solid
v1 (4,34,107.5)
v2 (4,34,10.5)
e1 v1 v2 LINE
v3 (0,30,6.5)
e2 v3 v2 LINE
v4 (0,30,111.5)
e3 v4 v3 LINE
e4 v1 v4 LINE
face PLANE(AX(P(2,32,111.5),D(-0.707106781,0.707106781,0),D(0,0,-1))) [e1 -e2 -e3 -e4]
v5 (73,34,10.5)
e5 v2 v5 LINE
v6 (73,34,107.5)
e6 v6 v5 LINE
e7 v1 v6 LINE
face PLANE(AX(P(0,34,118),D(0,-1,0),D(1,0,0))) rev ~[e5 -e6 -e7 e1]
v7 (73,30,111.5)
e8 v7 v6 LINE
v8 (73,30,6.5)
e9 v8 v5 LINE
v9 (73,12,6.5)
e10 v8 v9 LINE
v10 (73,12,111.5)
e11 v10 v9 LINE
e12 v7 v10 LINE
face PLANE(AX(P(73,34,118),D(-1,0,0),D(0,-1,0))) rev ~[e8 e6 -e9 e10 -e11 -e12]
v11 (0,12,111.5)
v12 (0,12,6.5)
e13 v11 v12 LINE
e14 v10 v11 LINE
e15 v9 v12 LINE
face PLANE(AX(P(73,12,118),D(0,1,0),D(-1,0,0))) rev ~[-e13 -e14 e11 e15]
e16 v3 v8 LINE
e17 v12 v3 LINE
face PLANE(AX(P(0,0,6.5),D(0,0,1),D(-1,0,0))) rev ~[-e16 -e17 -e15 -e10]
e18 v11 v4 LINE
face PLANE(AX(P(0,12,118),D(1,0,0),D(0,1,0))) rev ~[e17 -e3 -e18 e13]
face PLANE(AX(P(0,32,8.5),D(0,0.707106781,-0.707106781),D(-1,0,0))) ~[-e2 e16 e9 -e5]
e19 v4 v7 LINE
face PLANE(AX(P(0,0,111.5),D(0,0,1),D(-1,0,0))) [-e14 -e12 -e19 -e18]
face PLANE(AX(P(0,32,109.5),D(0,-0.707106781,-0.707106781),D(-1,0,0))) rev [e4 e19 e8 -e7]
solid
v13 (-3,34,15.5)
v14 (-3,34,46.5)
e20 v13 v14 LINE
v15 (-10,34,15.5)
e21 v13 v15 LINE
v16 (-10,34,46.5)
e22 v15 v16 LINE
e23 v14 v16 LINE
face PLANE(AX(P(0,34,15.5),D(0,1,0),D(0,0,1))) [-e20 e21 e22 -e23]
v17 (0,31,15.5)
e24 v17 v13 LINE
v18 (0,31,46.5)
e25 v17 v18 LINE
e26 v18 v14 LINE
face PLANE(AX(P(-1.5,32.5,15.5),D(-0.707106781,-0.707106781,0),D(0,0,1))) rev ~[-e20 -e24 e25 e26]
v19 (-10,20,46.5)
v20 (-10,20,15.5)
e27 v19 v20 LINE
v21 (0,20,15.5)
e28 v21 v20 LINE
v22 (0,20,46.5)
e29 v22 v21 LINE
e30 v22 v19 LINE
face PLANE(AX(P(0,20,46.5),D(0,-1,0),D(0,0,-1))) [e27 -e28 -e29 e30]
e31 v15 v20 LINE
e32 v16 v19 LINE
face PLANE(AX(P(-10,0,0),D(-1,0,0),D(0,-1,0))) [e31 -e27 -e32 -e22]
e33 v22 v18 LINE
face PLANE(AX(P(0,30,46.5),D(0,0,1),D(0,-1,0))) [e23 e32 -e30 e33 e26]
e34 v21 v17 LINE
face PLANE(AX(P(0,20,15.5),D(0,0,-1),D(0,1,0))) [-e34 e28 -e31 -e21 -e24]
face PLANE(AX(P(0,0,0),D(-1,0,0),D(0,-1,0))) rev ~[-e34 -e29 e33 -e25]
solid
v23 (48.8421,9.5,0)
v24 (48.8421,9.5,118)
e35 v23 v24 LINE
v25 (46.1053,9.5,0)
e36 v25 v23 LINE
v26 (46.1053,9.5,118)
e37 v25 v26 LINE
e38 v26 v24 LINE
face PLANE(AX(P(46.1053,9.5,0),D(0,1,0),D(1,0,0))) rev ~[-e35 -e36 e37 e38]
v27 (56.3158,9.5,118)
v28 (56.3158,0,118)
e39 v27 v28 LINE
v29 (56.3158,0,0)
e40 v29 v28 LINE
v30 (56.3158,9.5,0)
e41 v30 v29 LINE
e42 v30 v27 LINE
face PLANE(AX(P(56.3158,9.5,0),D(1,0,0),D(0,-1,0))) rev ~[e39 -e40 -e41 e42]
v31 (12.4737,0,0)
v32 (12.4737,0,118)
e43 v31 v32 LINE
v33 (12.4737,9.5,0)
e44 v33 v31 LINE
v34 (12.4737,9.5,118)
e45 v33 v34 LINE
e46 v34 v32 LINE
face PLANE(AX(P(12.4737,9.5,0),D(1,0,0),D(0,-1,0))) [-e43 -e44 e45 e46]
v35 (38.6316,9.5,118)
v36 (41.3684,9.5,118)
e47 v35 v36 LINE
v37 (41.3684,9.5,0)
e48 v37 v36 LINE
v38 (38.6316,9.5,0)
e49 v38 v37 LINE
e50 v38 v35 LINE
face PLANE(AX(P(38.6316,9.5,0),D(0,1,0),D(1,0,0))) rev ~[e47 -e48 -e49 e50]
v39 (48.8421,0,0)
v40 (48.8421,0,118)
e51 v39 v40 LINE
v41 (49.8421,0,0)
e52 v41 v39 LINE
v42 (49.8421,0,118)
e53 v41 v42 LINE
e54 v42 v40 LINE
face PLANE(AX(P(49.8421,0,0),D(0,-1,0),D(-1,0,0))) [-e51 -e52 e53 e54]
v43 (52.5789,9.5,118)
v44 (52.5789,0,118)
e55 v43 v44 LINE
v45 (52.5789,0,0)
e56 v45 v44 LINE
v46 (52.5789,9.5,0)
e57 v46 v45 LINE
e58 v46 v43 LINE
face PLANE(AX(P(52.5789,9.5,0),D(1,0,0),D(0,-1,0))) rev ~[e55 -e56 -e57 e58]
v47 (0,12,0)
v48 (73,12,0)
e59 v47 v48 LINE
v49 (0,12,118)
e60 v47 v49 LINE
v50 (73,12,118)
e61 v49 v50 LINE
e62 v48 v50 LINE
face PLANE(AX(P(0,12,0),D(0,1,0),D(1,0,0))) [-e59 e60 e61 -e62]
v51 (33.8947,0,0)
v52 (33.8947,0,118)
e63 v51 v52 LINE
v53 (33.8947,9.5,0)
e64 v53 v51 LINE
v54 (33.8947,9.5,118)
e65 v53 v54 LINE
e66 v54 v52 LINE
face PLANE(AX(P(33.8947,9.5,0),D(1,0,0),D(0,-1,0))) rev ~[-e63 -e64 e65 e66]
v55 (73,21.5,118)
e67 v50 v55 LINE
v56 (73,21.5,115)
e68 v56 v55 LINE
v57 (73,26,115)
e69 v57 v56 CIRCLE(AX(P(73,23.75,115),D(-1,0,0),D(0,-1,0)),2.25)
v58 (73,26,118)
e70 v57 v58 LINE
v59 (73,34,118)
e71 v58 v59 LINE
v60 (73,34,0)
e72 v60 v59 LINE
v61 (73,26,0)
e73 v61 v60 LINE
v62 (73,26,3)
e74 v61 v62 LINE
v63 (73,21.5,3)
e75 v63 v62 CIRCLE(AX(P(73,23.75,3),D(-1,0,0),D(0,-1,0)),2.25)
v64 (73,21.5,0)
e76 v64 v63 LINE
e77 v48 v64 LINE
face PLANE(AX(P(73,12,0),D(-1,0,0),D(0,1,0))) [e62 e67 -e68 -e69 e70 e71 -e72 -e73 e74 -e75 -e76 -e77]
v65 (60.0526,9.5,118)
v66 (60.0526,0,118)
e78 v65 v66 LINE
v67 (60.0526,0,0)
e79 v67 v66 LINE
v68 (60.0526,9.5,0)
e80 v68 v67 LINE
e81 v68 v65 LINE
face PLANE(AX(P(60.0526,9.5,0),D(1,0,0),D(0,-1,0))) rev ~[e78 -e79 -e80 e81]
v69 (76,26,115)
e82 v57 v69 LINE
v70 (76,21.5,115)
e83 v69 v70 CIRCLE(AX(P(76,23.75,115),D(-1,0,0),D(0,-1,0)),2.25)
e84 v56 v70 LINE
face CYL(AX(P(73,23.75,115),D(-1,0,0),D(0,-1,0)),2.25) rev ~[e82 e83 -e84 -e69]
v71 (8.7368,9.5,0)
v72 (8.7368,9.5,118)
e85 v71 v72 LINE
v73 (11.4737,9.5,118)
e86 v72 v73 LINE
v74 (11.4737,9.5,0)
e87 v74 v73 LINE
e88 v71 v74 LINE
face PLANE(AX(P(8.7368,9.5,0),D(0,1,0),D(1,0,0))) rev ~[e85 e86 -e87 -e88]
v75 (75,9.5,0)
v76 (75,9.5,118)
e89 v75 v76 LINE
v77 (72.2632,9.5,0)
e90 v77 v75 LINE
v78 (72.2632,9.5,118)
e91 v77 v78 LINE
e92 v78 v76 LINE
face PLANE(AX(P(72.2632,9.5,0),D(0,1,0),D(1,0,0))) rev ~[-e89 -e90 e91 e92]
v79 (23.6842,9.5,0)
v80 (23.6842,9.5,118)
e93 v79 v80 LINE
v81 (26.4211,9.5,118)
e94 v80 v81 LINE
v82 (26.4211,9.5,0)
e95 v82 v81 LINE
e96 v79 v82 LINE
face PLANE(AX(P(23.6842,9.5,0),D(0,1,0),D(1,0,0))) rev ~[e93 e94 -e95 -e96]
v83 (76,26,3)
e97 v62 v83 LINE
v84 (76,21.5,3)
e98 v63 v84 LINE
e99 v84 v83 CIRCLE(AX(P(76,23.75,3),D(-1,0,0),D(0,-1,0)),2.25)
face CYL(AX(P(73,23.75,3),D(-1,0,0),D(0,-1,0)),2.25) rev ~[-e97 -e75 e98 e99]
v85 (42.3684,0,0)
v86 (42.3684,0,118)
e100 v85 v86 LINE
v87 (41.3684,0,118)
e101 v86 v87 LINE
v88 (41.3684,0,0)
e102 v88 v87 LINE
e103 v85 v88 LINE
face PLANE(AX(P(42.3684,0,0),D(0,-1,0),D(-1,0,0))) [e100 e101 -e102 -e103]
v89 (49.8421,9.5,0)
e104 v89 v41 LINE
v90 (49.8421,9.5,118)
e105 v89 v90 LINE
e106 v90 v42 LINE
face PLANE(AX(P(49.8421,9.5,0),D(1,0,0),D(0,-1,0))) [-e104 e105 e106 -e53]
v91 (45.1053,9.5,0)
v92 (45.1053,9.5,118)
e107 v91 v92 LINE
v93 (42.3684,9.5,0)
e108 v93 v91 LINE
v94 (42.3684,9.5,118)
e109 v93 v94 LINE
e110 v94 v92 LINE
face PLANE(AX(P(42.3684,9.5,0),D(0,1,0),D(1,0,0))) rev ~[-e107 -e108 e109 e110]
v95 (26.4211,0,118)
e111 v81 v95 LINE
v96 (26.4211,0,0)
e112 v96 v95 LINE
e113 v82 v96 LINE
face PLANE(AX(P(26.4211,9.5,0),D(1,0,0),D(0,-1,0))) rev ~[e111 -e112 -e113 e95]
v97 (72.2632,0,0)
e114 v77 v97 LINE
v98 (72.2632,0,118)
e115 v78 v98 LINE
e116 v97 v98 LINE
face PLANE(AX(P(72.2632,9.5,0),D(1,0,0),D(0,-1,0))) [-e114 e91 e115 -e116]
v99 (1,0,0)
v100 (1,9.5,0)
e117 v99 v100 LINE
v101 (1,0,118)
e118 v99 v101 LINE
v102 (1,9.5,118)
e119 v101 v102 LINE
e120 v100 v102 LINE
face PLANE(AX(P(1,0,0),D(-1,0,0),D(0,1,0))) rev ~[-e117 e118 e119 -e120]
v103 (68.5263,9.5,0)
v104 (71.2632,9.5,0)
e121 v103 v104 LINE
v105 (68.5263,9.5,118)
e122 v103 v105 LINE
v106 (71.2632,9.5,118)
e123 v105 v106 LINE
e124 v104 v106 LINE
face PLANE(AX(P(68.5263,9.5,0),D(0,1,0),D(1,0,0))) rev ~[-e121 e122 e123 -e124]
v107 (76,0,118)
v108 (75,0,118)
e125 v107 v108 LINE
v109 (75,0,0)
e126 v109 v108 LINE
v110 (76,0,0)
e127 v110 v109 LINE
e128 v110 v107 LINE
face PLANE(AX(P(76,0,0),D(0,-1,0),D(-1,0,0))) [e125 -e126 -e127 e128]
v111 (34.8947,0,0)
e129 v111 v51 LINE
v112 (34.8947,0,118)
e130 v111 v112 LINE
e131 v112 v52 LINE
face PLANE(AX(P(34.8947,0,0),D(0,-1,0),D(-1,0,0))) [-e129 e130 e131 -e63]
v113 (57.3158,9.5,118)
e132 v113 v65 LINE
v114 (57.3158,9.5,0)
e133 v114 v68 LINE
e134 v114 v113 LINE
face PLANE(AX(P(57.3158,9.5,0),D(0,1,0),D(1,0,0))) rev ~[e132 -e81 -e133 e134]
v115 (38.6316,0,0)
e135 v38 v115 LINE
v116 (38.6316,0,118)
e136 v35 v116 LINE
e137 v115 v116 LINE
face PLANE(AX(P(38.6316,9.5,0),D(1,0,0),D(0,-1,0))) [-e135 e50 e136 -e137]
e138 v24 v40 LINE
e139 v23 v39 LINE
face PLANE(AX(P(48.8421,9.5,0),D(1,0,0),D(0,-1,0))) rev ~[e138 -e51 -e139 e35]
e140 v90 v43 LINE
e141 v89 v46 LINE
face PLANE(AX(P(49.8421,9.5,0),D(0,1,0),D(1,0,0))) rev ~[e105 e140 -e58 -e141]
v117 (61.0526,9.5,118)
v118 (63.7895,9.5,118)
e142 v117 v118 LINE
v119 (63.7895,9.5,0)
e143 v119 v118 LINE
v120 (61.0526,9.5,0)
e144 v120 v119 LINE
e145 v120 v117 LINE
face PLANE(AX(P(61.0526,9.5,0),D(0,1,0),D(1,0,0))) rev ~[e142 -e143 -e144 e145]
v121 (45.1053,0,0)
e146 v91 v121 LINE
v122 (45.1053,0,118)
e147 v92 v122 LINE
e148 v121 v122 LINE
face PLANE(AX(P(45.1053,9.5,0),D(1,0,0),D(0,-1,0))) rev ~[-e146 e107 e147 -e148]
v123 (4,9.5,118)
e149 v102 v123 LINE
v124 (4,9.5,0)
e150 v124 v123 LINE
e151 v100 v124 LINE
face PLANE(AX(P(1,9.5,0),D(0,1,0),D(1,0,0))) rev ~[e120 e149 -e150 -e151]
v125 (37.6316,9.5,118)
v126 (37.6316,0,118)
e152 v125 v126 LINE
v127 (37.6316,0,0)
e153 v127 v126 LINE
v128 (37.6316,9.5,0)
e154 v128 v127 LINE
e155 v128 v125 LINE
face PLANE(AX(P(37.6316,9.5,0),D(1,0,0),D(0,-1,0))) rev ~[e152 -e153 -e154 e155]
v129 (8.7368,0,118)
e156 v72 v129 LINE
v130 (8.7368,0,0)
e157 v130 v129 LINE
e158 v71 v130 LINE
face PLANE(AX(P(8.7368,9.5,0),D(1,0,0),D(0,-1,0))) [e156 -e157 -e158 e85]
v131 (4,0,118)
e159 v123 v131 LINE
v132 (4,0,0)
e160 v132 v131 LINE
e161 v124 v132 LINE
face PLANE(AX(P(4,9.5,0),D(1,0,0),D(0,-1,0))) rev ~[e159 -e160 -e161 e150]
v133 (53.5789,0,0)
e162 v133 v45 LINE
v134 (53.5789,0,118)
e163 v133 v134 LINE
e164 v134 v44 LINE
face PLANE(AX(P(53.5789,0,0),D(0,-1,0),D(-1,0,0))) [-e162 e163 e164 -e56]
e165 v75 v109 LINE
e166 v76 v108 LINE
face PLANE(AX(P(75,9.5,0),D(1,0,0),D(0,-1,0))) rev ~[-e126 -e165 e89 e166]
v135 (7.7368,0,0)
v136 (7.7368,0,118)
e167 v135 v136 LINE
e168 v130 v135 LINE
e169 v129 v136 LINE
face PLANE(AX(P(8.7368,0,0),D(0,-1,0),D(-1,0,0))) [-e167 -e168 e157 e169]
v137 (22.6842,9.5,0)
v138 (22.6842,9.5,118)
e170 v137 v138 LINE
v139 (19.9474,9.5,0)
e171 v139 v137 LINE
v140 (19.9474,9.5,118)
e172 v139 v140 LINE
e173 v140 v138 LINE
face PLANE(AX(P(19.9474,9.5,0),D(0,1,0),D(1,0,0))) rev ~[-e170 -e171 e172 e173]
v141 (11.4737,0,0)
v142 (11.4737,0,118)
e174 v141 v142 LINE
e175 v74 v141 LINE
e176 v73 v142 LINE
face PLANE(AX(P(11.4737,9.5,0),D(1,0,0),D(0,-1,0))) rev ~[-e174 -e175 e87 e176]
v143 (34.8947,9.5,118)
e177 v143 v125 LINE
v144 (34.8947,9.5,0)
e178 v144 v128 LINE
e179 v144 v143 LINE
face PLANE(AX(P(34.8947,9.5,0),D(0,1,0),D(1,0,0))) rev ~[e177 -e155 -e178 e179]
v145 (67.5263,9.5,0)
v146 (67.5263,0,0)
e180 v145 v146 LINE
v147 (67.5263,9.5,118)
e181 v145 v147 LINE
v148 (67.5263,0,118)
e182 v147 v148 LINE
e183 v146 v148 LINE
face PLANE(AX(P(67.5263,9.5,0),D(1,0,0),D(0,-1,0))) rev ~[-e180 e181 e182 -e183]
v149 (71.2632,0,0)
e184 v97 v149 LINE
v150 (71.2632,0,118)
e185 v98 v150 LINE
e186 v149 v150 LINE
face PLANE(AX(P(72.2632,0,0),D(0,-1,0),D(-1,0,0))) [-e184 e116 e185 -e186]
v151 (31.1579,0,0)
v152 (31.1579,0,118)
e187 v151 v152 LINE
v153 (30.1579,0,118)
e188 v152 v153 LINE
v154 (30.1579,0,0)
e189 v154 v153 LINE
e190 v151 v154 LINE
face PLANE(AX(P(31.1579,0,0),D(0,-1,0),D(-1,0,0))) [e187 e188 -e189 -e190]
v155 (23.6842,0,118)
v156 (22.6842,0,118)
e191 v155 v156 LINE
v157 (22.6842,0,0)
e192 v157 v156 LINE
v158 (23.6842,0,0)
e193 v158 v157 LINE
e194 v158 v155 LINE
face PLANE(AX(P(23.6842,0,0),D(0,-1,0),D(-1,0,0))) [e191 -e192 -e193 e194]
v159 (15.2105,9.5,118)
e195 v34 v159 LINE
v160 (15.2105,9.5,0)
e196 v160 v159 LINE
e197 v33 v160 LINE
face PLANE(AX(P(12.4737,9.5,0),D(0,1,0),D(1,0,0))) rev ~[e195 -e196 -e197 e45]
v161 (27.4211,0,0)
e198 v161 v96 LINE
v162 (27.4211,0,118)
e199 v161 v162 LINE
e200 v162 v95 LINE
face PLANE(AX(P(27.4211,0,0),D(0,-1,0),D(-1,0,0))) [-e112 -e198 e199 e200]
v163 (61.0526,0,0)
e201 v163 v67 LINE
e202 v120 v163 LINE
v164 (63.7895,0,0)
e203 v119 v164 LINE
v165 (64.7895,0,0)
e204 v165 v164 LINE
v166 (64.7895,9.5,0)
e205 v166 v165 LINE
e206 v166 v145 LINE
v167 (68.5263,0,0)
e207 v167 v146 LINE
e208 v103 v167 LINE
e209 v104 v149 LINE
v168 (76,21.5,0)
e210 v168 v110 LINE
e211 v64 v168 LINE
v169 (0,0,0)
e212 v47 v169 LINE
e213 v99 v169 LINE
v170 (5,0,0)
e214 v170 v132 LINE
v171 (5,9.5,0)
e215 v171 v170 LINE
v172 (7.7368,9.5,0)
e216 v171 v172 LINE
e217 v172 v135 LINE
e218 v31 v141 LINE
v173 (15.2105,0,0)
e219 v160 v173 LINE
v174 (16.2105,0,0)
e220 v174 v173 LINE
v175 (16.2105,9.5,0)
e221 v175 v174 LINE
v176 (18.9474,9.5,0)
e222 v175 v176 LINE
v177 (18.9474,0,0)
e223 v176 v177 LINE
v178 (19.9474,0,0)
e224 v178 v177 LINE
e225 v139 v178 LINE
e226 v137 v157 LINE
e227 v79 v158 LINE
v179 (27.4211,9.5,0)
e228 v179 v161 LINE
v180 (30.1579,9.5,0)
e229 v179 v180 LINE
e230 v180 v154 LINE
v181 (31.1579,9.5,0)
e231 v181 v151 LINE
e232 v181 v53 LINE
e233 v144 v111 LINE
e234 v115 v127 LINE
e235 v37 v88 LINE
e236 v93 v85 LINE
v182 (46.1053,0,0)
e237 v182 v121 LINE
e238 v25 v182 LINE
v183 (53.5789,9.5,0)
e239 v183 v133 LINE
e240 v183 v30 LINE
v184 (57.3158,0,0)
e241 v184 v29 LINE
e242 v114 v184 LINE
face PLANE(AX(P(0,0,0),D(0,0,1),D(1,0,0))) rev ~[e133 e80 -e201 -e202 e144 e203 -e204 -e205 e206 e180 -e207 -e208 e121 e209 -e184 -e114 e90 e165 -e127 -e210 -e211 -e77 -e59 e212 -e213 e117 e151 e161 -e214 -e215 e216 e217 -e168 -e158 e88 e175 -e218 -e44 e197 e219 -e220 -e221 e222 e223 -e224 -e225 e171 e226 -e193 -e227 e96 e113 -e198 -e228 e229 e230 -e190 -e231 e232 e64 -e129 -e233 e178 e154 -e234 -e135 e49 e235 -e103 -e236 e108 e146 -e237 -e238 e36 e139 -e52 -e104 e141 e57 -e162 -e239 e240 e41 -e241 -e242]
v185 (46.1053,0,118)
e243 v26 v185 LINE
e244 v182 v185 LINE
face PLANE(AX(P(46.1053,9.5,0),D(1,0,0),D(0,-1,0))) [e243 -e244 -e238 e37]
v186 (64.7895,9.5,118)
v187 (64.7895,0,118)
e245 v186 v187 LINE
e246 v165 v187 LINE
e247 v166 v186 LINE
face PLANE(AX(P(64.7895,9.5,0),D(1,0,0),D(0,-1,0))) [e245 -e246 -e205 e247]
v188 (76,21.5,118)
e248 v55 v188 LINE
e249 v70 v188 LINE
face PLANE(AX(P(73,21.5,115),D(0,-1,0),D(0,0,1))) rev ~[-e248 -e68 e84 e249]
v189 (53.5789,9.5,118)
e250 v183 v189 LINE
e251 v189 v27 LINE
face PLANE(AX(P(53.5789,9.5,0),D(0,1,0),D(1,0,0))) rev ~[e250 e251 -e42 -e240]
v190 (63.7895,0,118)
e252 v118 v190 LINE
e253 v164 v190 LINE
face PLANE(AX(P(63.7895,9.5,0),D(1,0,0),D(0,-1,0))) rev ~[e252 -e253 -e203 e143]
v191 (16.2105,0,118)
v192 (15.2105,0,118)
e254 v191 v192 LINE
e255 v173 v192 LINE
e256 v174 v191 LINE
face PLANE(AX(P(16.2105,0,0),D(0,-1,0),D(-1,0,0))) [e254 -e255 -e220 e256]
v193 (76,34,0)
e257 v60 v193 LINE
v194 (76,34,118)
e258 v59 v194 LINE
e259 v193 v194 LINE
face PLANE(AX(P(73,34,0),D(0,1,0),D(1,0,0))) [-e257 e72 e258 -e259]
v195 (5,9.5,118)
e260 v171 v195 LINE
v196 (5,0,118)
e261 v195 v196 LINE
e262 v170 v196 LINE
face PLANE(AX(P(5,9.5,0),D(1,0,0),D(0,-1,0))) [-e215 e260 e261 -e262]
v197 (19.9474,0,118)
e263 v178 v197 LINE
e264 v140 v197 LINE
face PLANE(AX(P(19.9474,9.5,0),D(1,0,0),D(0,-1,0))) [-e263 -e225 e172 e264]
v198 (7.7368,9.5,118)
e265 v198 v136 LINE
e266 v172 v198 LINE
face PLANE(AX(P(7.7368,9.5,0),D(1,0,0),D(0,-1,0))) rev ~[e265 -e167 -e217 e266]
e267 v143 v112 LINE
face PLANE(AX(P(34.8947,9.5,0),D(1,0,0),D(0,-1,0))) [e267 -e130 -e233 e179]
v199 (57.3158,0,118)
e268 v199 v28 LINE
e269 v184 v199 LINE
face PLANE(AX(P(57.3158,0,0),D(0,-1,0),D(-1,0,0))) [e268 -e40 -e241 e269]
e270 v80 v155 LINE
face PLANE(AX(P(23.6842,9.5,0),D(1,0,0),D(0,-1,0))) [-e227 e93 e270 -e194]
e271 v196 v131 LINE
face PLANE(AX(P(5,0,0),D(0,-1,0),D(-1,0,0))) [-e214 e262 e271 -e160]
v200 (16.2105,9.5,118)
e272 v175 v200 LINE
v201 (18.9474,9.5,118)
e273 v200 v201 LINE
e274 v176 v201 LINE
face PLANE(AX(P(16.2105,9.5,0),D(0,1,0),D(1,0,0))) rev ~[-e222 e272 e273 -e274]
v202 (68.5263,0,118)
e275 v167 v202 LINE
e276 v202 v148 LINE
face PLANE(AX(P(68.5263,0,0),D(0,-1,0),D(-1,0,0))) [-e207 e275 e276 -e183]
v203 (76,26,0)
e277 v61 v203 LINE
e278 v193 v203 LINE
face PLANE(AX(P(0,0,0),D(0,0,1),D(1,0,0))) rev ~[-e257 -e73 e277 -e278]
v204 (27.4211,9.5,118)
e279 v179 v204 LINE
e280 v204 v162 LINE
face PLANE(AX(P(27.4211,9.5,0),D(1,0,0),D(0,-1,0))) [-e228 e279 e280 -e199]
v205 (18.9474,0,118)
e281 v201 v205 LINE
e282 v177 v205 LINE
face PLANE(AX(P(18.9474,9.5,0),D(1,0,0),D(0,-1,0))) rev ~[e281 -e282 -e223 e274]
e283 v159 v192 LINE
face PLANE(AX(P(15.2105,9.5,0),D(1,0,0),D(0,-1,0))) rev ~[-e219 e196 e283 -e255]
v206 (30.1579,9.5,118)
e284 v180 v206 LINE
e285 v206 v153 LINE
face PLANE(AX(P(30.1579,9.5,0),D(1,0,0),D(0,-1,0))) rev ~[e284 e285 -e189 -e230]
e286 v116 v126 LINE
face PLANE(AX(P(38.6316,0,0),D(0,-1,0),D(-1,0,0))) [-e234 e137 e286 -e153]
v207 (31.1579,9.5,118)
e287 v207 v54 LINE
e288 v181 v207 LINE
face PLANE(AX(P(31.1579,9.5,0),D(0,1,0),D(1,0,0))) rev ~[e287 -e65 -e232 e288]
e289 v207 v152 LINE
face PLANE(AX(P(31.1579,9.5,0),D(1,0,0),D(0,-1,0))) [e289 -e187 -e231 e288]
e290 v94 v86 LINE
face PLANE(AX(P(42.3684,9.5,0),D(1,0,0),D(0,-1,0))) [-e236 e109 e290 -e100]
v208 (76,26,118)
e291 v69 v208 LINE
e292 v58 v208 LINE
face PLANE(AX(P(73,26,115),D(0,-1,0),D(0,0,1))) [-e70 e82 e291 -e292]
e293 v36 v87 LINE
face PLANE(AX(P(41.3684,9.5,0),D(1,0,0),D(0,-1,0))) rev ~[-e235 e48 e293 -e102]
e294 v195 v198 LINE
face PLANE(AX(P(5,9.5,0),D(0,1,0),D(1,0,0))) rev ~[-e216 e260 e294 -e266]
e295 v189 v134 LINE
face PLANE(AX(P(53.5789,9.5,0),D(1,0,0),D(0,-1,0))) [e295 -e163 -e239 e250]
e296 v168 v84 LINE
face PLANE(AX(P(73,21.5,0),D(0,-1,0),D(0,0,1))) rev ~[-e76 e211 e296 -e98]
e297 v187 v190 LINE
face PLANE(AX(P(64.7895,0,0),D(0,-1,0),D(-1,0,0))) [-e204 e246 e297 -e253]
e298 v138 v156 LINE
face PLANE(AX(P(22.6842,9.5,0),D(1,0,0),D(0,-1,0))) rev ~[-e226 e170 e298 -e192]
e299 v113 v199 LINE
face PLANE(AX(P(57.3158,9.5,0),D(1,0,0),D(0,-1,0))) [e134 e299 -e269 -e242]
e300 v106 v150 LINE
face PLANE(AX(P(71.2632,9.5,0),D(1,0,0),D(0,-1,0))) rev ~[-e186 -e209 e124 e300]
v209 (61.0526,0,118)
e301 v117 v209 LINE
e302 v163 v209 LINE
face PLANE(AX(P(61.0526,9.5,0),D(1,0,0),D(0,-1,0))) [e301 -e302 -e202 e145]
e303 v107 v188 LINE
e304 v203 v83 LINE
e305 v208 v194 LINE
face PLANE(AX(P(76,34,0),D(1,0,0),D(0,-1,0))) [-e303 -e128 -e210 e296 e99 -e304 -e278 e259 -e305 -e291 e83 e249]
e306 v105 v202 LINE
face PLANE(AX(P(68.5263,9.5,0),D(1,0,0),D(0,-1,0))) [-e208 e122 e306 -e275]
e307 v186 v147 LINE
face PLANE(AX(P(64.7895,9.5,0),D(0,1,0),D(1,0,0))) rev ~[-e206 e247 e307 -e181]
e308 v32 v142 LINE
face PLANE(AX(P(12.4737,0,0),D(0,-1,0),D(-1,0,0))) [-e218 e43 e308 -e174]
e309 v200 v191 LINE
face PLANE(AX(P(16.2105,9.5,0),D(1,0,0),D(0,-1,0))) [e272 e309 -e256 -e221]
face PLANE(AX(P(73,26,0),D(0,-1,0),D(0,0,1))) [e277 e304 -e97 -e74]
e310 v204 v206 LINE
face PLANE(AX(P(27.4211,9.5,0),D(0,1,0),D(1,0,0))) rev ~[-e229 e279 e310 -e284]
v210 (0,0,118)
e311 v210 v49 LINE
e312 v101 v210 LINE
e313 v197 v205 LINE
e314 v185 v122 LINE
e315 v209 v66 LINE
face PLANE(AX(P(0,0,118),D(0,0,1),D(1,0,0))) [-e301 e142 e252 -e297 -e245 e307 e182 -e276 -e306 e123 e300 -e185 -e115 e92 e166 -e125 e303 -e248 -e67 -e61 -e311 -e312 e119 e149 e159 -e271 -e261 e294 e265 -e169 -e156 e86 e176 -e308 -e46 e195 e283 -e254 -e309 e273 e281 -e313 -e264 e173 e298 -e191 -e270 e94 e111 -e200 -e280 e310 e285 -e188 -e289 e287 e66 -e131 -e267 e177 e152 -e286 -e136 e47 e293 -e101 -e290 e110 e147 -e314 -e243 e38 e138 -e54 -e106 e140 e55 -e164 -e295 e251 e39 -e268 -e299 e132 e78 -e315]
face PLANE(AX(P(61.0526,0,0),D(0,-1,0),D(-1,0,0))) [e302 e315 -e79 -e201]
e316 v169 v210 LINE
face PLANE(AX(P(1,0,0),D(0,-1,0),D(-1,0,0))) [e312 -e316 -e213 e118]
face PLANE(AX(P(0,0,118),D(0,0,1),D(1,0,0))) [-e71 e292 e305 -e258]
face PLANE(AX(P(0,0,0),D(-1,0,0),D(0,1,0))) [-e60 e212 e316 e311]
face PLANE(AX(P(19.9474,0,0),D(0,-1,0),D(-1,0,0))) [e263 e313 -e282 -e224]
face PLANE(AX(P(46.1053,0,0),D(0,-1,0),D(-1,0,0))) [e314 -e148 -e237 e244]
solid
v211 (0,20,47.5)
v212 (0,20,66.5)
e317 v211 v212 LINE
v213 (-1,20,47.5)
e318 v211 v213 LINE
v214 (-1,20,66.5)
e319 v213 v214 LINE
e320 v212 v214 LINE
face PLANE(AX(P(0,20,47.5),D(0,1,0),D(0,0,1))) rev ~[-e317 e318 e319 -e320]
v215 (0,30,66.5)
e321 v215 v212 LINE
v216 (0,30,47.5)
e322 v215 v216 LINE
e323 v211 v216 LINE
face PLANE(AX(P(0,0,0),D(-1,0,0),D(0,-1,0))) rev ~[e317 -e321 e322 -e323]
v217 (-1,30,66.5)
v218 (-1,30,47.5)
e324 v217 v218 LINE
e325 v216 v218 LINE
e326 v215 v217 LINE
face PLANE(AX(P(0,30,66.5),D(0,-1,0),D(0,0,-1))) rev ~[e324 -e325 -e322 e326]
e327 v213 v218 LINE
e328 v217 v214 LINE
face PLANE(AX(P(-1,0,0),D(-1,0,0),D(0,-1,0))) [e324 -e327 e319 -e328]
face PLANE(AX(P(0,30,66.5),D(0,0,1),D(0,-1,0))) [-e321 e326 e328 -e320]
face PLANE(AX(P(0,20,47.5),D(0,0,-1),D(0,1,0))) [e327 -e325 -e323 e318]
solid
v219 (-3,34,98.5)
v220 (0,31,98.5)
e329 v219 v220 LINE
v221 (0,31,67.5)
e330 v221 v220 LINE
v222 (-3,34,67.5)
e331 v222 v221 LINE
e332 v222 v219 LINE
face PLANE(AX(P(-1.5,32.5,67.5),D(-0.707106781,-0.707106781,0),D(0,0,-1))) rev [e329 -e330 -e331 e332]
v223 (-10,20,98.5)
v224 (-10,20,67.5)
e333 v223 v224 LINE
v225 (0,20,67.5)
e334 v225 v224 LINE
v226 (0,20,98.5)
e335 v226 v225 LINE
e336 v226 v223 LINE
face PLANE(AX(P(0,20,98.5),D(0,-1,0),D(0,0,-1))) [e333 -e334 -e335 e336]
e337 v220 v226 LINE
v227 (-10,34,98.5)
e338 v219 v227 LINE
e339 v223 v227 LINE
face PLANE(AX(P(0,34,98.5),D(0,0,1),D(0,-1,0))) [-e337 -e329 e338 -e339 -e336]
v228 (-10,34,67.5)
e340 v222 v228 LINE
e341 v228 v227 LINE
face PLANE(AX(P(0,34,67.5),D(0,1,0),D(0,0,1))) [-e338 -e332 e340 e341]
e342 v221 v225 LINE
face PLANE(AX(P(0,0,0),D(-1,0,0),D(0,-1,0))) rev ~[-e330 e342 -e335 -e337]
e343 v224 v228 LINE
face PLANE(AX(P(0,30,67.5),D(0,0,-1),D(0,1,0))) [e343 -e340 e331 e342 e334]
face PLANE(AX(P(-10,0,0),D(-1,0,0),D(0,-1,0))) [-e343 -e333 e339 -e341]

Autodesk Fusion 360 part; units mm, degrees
sketch "Sketch1" plane through (0, 0, 0) normal (0, 0, 1) x (1, 0, 0)
  line L0 (0, 0) -> (0, 12)
  line L1 (0, 12) -> (73, 12)
  line L2 (73, 12) -> (73, 34)
  line L3 (73, 34) -> (76, 34)
  line L4 (76, 34) -> (76, 0)
  line L5 (1, 0) -> (1, 9.5)
  line L6 (4, 9.5) -> (4, 0)
  line L7 (5, 9.5) -> (5, 0)
  line L8 (7.7368, 9.5) -> (7.7368, 0)
  line L9 (8.7368, 9.5) -> (8.7368, 0)
  line L10 (11.4737, 9.5) -> (11.4737, 0)
  line L11 (12.4737, 9.5) -> (12.4737, 0)
  line L12 (15.2105, 9.5) -> (15.2105, 0)
  line L13 (16.2105, 9.5) -> (16.2105, 0)
  line L14 (18.9474, 9.5) -> (18.9474, 0)
  line L15 (19.9474, 9.5) -> (19.9474, 0)
  line L16 (22.6842, 9.5) -> (22.6842, 0)
  line L17 (23.6842, 9.5) -> (23.6842, 0)
  line L18 (26.4211, 9.5) -> (26.4211, 0)
  line L19 (27.4211, 9.5) -> (27.4211, 0)
  line L20 (30.1579, 9.5) -> (30.1579, 0)
  line L21 (31.1579, 9.5) -> (31.1579, 0)
  line L22 (33.8947, 9.5) -> (33.8947, 0)
  line L23 (34.8947, 9.5) -> (34.8947, 0)
  line L24 (37.6316, 9.5) -> (37.6316, 0)
  line L25 (38.6316, 9.5) -> (38.6316, 0)
  line L26 (41.3684, 9.5) -> (41.3684, 0)
  line L27 (42.3684, 9.5) -> (42.3684, 0)
  line L28 (45.1053, 9.5) -> (45.1053, 0)
  line L29 (46.1053, 9.5) -> (46.1053, 0)
  line L30 (48.8421, 9.5) -> (48.8421, 0)
  line L31 (49.8421, 9.5) -> (49.8421, 0)
  line L32 (52.5789, 9.5) -> (52.5789, 0)
  line L33 (53.5789, 9.5) -> (53.5789, 0)
  line L34 (56.3158, 9.5) -> (56.3158, 0)
  line L35 (57.3158, 9.5) -> (57.3158, 0)
  line L36 (60.0526, 9.5) -> (60.0526, 0)
  line L37 (61.0526, 9.5) -> (61.0526, 0)
  line L38 (63.7895, 9.5) -> (63.7895, 0)
  line L39 (64.7895, 9.5) -> (64.7895, 0)
  line L40 (67.5263, 9.5) -> (67.5263, 0)
  line L41 (68.5263, 9.5) -> (68.5263, 0)
  line L42 (71.2632, 9.5) -> (71.2632, 0)
  line L43 (72.2632, 9.5) -> (72.2632, 0)
  line L44 (75, 9.5) -> (75, 0)
  line L45 (76, 9.5) -> (76, 0)
  line L46 (1, 0) -> (0, 0)
  line L47 (5, 0) -> (4, 0)
  line L48 (8.7368, 0) -> (7.7368, 0)
  line L49 (12.4737, 0) -> (11.4737, 0)
  line L50 (16.2105, 0) -> (15.2105, 0)
  line L51 (19.9474, 0) -> (18.9474, 0)
  line L52 (23.6842, 0) -> (22.6842, 0)
  line L53 (27.4211, 0) -> (26.4211, 0)
  line L54 (31.1579, 0) -> (30.1579, 0)
  line L55 (34.8947, 0) -> (33.8947, 0)
  line L56 (38.6316, 0) -> (37.6316, 0)
  line L57 (42.3684, 0) -> (41.3684, 0)
  line L58 (46.1053, 0) -> (45.1053, 0)
  line L59 (49.8421, 0) -> (48.8421, 0)
  line L60 (53.5789, 0) -> (52.5789, 0)
  line L61 (57.3158, 0) -> (56.3158, 0)
  line L62 (61.0526, 0) -> (60.0526, 0)
  line L63 (64.7895, 0) -> (63.7895, 0)
  line L64 (68.5263, 0) -> (67.5263, 0)
  line L65 (76, 0) -> (75, 0)
  line L66 (72.2632, 0) -> (71.2632, 0)
  line L67 (0, 9.5) -> (4, 9.5)
  line L68 (5, 9.5) -> (7.7368, 9.5)
  line L69 (8.7368, 9.5) -> (11.4737, 9.5)
  line L70 (12.4737, 9.5) -> (15.2105, 9.5)
  line L71 (16.2105, 9.5) -> (18.9474, 9.5)
  line L72 (19.9474, 9.5) -> (22.6842, 9.5)
  line L73 (23.6842, 9.5) -> (26.4211, 9.5)
  line L74 (27.4211, 9.5) -> (30.1579, 9.5)
  line L75 (31.1579, 9.5) -> (33.8947, 9.5)
  line L76 (34.8947, 9.5) -> (37.6316, 9.5)
  line L77 (38.6316, 9.5) -> (41.3684, 9.5)
  line L78 (42.3684, 9.5) -> (45.1053, 9.5)
  line L79 (46.1053, 9.5) -> (48.8421, 9.5)
  line L80 (49.8421, 9.5) -> (52.5789, 9.5)
  line L81 (53.5789, 9.5) -> (56.3158, 9.5)
  line L82 (57.3158, 9.5) -> (60.0526, 9.5)
  line L83 (61.0526, 9.5) -> (63.7895, 9.5)
  line L84 (64.7895, 9.5) -> (67.5263, 9.5)
  line L85 (68.5263, 9.5) -> (71.2632, 9.5)
  line L86 (72.2632, 9.5) -> (75, 9.5)
  dimension "d3723_1" = 12
  dimension "d3724_1" = 73
  dimension "d3725_1" = 3
  dimension "d3726_1" = 34
  dimension "d3727_1" = 2.5
  dimension "d3728_1" = 1
  dimension "d3729_1" = 1
  dimension "d3730_1" = 3
  dimension "d3733_1" = 71
  dimension "d3734_1" = 0
extrude "Extrude1" add sketch "Sketch1" along normal blind 118 makes body 1
sketch "Sketch2" plane through (0, 0, 118) normal (0, 0, 1) x (-1, 0, 0)
  line L0 (-72.2632, 0) -> (-72.2632, -9.5)
  line L1 (-72.2632, -9.5) -> (-75, -9.5)
  line L2 (-75, -9.5) -> (-75, 0)
  line L3 (-75, 0) -> (-76, 0)
  line L4 (-76, 0) -> (-76, -34)
  line L5 (-76, -34) -> (-73, -34)
  line L6 (-73, -34) -> (-73, -12)
  line L7 (-73, -12) -> (0, -12)
  line L8 (0, -12) -> (0, 0)
  line L9 (0, 0) -> (-1, 0)
  line L10 (-1, 0) -> (-1, -9.5)
  line L11 (-1, -9.5) -> (-4, -9.5)
  line L12 (-4, -9.5) -> (-4, 0)
  line L13 (-4, 0) -> (-5, 0)
  line L14 (-5, 0) -> (-5, -9.5)
  line L15 (-5, -9.5) -> (-7.7368, -9.5)
  line L16 (-7.7368, -9.5) -> (-7.7368, 0)
  line L17 (-7.7368, 0) -> (-8.7368, 0)
  line L18 (-8.7368, 0) -> (-8.7368, -9.5)
  line L19 (-8.7368, -9.5) -> (-11.4737, -9.5)
  line L20 (-11.4737, -9.5) -> (-11.4737, 0)
  line L21 (-11.4737, 0) -> (-12.4737, 0)
  line L22 (-12.4737, 0) -> (-12.4737, -9.5)
  line L23 (-12.4737, -9.5) -> (-15.2105, -9.5)
  line L24 (-15.2105, -9.5) -> (-15.2105, 0)
  line L25 (-15.2105, 0) -> (-16.2105, 0)
  line L26 (-16.2105, 0) -> (-16.2105, -9.5)
  line L27 (-16.2105, -9.5) -> (-18.9474, -9.5)
  line L28 (-18.9474, -9.5) -> (-18.9474, 0)
  line L29 (-18.9474, 0) -> (-19.9474, 0)
  line L30 (-19.9474, 0) -> (-19.9474, -9.5)
  line L31 (-19.9474, -9.5) -> (-22.6842, -9.5)
  line L32 (-22.6842, -9.5) -> (-22.6842, 0)
  line L33 (-22.6842, 0) -> (-23.6842, 0)
  line L34 (-23.6842, 0) -> (-23.6842, -9.5)
  line L35 (-23.6842, -9.5) -> (-26.4211, -9.5)
  line L36 (-26.4211, -9.5) -> (-26.4211, 0)
  line L37 (-26.4211, 0) -> (-27.4211, 0)
  line L38 (-27.4211, 0) -> (-27.4211, -9.5)
  line L39 (-27.4211, -9.5) -> (-30.1579, -9.5)
  line L40 (-30.1579, -9.5) -> (-30.1579, 0)
  line L41 (-30.1579, 0) -> (-31.1579, 0)
  line L42 (-31.1579, 0) -> (-31.1579, -9.5)
  line L43 (-31.1579, -9.5) -> (-33.8947, -9.5)
  line L44 (-33.8947, -9.5) -> (-33.8947, 0)
  line L45 (-33.8947, 0) -> (-34.8947, 0)
  line L46 (-34.8947, 0) -> (-34.8947, -9.5)
  line L47 (-34.8947, -9.5) -> (-37.6316, -9.5)
  line L48 (-37.6316, -9.5) -> (-37.6316, 0)
  line L49 (-37.6316, 0) -> (-38.6316, 0)
  line L50 (-38.6316, 0) -> (-38.6316, -9.5)
  line L51 (-38.6316, -9.5) -> (-41.3684, -9.5)
  line L52 (-41.3684, -9.5) -> (-41.3684, 0)
  line L53 (-41.3684, 0) -> (-42.3684, 0)
  line L54 (-42.3684, 0) -> (-42.3684, -9.5)
  line L55 (-42.3684, -9.5) -> (-45.1053, -9.5)
  line L56 (-45.1053, -9.5) -> (-45.1053, 0)
  line L57 (-45.1053, 0) -> (-46.1053, 0)
  line L58 (-46.1053, 0) -> (-46.1053, -9.5)
  line L59 (-46.1053, -9.5) -> (-48.8421, -9.5)
  line L60 (-48.8421, -9.5) -> (-48.8421, 0)
  line L61 (-48.8421, 0) -> (-49.8421, 0)
  line L62 (-49.8421, 0) -> (-49.8421, -9.5)
  line L63 (-49.8421, -9.5) -> (-52.5789, -9.5)
  line L64 (-52.5789, -9.5) -> (-52.5789, 0)
  line L65 (-52.5789, 0) -> (-53.5789, 0)
  line L66 (-53.5789, 0) -> (-53.5789, -9.5)
  line L67 (-53.5789, -9.5) -> (-56.3158, -9.5)
  line L68 (-56.3158, -9.5) -> (-56.3158, 0)
  line L69 (-56.3158, 0) -> (-57.3158, 0)
  line L70 (-57.3158, 0) -> (-57.3158, -9.5)
  line L71 (-57.3158, -9.5) -> (-60.0526, -9.5)
  line L72 (-60.0526, -9.5) -> (-60.0526, 0)
  line L73 (-60.0526, 0) -> (-61.0526, 0)
  line L74 (-61.0526, 0) -> (-61.0526, -9.5)
  line L75 (-61.0526, -9.5) -> (-63.7895, -9.5)
  line L76 (-63.7895, -9.5) -> (-63.7895, 0)
  line L77 (-63.7895, 0) -> (-64.7895, 0)
  line L78 (-64.7895, 0) -> (-64.7895, -9.5)
  line L79 (-64.7895, -9.5) -> (-67.5263, -9.5)
  line L80 (-67.5263, -9.5) -> (-67.5263, 0)
  line L81 (-67.5263, 0) -> (-68.5263, 0)
  line L82 (-68.5263, 0) -> (-68.5263, -9.5)
  line L83 (-68.5263, -9.5) -> (-71.2632, -9.5)
  line L84 (-71.2632, -9.5) -> (-71.2632, 0)
  line L85 (-71.2632, 0) -> (-72.2632, 0)
  line L86 (0, -12) -> (0, -34)
  line L87 (0, -34) -> (-73, -34)
extrude "Extrude2" add sketch "Sketch2" against normal blind 118 separate body contours L6 L7 L86 L87 makes body 2
extrude "Extrude3" cut 1 faces at (24.3333, 26.6667, 0) along direction (0, 0, 1) blind 6.5 on bodies 2 bodies 2
extrude "Extrude4" cut 1 faces at (24.3333, 26.6667, 118) along direction (0, 0, -1) blind 6.5 on bodies 2 bodies 2
chamfer "Chamfer1" distance 4 angle 45 3 edges at (36.5, 34, 6.5) (0, 34, 59) (36.5, 34, 111.5) on bodies 2
sketch "Sketch3" plane through (73, 0, 0) normal (-1, 0, 0) x (0, -1, 0)
  line L0 (-34, 0) -> (-12, 0)
  line L1 (-12, 0) -> (-12, 118)
  line L2 (-12, 118) -> (-34, 118)
  line L3 (-34, 118) -> (-34, 0)
  line L4 (-21.5, 0) -> (-21.5, 118)
  line L5 (-26, 0) -> (-26, 118)
  line L6 (-26, 0) -> (-21.5, 0)
  line L7 (-23.75, 0) -> (-23.75, 3)
  circle A0 centre (-23.75, 3) radius 2.25
  line L8 (-26, 118) -> (-21.5, 118)
  line L9 (-23.75, 118) -> (-23.75, 115)
  circle A1 centre (-23.75, 115) radius 2.25
  dimension "d3744_1" = 9.5
  dimension "d3745_1" = 8
  dimension "d3746_1" = 3
  dimension "d3747_1" = 3
extrude "Extrude5" cut sketch "Sketch3" against normal blind 3 contours L0 L5 L6 L7 A0 | L0 L4 L6 L7 A0 | A0 | L2 L5 L8 L9 A1 | A1 | L2 L4 L8 L9 A1 bodies 1
sketch "Sketch4" plane through (0, 0, 0) normal (-1, 0, 0) x (0, -1, 0)
  line L0 (-30, 111.5) -> (-30, 6.5)
  line L1 (-30, 6.5) -> (-12, 6.5)
  line L2 (-12, 6.5) -> (-12, 111.5)
  line L3 (-12, 111.5) -> (-30, 111.5)
  line L4 (-20, 6.5) -> (-20, 111.5) construction
  line L5 (-34, 107.5) -> (-34, 10.5) construction
  line L6 (-20, 15.5) -> (-34, 15.5)
  line L7 (-34, 15.5) -> (-34, 46.5)
  line L8 (-34, 46.5) -> (-20, 46.5)
  line L9 (-20, 46.5) -> (-20, 15.5)
  line L10 (-20, 67.5) -> (-34, 67.5)
  line L11 (-34, 67.5) -> (-34, 98.5)
  line L12 (-34, 98.5) -> (-20, 98.5)
  line L13 (-20, 98.5) -> (-20, 67.5)
  line L14 (-30, 66.5) -> (-20, 66.5)
  line L15 (-20, 47.5) -> (-30, 47.5)
  line L16 (-20, 47.5) -> (-20, 66.5)
  dimension "d1" = 14
  dimension "d2" = 31
  dimension "d3" = 31
  dimension "d4" = 13
  dimension "d5" = 9
  dimension "d9" = 1
  dimension "d10" = 1
extrude "Extrude6" add sketch "Sketch4" along normal blind 10 separate body contours L0 L10 L11 L12 | L0 L10 L12 L13 | L0 L6 L8 L9 | L0 L6 L7 L8 makes body 3 at (0, 29.3333, 77.8333) makes body 4 at (0, 29.3333, 36.1667)
chamfer "Chamfer2" distance 3 angle 45 2 edges at (0, 34, 31) (0, 34, 83) on bodies 3 4
extrude "Extrude7" add sketch "Sketch4" along normal blind 1 separate body contours L0 L14 L15 L16 makes body 5
equation "d3744_1 = 21.5 mm - 12 mm"
